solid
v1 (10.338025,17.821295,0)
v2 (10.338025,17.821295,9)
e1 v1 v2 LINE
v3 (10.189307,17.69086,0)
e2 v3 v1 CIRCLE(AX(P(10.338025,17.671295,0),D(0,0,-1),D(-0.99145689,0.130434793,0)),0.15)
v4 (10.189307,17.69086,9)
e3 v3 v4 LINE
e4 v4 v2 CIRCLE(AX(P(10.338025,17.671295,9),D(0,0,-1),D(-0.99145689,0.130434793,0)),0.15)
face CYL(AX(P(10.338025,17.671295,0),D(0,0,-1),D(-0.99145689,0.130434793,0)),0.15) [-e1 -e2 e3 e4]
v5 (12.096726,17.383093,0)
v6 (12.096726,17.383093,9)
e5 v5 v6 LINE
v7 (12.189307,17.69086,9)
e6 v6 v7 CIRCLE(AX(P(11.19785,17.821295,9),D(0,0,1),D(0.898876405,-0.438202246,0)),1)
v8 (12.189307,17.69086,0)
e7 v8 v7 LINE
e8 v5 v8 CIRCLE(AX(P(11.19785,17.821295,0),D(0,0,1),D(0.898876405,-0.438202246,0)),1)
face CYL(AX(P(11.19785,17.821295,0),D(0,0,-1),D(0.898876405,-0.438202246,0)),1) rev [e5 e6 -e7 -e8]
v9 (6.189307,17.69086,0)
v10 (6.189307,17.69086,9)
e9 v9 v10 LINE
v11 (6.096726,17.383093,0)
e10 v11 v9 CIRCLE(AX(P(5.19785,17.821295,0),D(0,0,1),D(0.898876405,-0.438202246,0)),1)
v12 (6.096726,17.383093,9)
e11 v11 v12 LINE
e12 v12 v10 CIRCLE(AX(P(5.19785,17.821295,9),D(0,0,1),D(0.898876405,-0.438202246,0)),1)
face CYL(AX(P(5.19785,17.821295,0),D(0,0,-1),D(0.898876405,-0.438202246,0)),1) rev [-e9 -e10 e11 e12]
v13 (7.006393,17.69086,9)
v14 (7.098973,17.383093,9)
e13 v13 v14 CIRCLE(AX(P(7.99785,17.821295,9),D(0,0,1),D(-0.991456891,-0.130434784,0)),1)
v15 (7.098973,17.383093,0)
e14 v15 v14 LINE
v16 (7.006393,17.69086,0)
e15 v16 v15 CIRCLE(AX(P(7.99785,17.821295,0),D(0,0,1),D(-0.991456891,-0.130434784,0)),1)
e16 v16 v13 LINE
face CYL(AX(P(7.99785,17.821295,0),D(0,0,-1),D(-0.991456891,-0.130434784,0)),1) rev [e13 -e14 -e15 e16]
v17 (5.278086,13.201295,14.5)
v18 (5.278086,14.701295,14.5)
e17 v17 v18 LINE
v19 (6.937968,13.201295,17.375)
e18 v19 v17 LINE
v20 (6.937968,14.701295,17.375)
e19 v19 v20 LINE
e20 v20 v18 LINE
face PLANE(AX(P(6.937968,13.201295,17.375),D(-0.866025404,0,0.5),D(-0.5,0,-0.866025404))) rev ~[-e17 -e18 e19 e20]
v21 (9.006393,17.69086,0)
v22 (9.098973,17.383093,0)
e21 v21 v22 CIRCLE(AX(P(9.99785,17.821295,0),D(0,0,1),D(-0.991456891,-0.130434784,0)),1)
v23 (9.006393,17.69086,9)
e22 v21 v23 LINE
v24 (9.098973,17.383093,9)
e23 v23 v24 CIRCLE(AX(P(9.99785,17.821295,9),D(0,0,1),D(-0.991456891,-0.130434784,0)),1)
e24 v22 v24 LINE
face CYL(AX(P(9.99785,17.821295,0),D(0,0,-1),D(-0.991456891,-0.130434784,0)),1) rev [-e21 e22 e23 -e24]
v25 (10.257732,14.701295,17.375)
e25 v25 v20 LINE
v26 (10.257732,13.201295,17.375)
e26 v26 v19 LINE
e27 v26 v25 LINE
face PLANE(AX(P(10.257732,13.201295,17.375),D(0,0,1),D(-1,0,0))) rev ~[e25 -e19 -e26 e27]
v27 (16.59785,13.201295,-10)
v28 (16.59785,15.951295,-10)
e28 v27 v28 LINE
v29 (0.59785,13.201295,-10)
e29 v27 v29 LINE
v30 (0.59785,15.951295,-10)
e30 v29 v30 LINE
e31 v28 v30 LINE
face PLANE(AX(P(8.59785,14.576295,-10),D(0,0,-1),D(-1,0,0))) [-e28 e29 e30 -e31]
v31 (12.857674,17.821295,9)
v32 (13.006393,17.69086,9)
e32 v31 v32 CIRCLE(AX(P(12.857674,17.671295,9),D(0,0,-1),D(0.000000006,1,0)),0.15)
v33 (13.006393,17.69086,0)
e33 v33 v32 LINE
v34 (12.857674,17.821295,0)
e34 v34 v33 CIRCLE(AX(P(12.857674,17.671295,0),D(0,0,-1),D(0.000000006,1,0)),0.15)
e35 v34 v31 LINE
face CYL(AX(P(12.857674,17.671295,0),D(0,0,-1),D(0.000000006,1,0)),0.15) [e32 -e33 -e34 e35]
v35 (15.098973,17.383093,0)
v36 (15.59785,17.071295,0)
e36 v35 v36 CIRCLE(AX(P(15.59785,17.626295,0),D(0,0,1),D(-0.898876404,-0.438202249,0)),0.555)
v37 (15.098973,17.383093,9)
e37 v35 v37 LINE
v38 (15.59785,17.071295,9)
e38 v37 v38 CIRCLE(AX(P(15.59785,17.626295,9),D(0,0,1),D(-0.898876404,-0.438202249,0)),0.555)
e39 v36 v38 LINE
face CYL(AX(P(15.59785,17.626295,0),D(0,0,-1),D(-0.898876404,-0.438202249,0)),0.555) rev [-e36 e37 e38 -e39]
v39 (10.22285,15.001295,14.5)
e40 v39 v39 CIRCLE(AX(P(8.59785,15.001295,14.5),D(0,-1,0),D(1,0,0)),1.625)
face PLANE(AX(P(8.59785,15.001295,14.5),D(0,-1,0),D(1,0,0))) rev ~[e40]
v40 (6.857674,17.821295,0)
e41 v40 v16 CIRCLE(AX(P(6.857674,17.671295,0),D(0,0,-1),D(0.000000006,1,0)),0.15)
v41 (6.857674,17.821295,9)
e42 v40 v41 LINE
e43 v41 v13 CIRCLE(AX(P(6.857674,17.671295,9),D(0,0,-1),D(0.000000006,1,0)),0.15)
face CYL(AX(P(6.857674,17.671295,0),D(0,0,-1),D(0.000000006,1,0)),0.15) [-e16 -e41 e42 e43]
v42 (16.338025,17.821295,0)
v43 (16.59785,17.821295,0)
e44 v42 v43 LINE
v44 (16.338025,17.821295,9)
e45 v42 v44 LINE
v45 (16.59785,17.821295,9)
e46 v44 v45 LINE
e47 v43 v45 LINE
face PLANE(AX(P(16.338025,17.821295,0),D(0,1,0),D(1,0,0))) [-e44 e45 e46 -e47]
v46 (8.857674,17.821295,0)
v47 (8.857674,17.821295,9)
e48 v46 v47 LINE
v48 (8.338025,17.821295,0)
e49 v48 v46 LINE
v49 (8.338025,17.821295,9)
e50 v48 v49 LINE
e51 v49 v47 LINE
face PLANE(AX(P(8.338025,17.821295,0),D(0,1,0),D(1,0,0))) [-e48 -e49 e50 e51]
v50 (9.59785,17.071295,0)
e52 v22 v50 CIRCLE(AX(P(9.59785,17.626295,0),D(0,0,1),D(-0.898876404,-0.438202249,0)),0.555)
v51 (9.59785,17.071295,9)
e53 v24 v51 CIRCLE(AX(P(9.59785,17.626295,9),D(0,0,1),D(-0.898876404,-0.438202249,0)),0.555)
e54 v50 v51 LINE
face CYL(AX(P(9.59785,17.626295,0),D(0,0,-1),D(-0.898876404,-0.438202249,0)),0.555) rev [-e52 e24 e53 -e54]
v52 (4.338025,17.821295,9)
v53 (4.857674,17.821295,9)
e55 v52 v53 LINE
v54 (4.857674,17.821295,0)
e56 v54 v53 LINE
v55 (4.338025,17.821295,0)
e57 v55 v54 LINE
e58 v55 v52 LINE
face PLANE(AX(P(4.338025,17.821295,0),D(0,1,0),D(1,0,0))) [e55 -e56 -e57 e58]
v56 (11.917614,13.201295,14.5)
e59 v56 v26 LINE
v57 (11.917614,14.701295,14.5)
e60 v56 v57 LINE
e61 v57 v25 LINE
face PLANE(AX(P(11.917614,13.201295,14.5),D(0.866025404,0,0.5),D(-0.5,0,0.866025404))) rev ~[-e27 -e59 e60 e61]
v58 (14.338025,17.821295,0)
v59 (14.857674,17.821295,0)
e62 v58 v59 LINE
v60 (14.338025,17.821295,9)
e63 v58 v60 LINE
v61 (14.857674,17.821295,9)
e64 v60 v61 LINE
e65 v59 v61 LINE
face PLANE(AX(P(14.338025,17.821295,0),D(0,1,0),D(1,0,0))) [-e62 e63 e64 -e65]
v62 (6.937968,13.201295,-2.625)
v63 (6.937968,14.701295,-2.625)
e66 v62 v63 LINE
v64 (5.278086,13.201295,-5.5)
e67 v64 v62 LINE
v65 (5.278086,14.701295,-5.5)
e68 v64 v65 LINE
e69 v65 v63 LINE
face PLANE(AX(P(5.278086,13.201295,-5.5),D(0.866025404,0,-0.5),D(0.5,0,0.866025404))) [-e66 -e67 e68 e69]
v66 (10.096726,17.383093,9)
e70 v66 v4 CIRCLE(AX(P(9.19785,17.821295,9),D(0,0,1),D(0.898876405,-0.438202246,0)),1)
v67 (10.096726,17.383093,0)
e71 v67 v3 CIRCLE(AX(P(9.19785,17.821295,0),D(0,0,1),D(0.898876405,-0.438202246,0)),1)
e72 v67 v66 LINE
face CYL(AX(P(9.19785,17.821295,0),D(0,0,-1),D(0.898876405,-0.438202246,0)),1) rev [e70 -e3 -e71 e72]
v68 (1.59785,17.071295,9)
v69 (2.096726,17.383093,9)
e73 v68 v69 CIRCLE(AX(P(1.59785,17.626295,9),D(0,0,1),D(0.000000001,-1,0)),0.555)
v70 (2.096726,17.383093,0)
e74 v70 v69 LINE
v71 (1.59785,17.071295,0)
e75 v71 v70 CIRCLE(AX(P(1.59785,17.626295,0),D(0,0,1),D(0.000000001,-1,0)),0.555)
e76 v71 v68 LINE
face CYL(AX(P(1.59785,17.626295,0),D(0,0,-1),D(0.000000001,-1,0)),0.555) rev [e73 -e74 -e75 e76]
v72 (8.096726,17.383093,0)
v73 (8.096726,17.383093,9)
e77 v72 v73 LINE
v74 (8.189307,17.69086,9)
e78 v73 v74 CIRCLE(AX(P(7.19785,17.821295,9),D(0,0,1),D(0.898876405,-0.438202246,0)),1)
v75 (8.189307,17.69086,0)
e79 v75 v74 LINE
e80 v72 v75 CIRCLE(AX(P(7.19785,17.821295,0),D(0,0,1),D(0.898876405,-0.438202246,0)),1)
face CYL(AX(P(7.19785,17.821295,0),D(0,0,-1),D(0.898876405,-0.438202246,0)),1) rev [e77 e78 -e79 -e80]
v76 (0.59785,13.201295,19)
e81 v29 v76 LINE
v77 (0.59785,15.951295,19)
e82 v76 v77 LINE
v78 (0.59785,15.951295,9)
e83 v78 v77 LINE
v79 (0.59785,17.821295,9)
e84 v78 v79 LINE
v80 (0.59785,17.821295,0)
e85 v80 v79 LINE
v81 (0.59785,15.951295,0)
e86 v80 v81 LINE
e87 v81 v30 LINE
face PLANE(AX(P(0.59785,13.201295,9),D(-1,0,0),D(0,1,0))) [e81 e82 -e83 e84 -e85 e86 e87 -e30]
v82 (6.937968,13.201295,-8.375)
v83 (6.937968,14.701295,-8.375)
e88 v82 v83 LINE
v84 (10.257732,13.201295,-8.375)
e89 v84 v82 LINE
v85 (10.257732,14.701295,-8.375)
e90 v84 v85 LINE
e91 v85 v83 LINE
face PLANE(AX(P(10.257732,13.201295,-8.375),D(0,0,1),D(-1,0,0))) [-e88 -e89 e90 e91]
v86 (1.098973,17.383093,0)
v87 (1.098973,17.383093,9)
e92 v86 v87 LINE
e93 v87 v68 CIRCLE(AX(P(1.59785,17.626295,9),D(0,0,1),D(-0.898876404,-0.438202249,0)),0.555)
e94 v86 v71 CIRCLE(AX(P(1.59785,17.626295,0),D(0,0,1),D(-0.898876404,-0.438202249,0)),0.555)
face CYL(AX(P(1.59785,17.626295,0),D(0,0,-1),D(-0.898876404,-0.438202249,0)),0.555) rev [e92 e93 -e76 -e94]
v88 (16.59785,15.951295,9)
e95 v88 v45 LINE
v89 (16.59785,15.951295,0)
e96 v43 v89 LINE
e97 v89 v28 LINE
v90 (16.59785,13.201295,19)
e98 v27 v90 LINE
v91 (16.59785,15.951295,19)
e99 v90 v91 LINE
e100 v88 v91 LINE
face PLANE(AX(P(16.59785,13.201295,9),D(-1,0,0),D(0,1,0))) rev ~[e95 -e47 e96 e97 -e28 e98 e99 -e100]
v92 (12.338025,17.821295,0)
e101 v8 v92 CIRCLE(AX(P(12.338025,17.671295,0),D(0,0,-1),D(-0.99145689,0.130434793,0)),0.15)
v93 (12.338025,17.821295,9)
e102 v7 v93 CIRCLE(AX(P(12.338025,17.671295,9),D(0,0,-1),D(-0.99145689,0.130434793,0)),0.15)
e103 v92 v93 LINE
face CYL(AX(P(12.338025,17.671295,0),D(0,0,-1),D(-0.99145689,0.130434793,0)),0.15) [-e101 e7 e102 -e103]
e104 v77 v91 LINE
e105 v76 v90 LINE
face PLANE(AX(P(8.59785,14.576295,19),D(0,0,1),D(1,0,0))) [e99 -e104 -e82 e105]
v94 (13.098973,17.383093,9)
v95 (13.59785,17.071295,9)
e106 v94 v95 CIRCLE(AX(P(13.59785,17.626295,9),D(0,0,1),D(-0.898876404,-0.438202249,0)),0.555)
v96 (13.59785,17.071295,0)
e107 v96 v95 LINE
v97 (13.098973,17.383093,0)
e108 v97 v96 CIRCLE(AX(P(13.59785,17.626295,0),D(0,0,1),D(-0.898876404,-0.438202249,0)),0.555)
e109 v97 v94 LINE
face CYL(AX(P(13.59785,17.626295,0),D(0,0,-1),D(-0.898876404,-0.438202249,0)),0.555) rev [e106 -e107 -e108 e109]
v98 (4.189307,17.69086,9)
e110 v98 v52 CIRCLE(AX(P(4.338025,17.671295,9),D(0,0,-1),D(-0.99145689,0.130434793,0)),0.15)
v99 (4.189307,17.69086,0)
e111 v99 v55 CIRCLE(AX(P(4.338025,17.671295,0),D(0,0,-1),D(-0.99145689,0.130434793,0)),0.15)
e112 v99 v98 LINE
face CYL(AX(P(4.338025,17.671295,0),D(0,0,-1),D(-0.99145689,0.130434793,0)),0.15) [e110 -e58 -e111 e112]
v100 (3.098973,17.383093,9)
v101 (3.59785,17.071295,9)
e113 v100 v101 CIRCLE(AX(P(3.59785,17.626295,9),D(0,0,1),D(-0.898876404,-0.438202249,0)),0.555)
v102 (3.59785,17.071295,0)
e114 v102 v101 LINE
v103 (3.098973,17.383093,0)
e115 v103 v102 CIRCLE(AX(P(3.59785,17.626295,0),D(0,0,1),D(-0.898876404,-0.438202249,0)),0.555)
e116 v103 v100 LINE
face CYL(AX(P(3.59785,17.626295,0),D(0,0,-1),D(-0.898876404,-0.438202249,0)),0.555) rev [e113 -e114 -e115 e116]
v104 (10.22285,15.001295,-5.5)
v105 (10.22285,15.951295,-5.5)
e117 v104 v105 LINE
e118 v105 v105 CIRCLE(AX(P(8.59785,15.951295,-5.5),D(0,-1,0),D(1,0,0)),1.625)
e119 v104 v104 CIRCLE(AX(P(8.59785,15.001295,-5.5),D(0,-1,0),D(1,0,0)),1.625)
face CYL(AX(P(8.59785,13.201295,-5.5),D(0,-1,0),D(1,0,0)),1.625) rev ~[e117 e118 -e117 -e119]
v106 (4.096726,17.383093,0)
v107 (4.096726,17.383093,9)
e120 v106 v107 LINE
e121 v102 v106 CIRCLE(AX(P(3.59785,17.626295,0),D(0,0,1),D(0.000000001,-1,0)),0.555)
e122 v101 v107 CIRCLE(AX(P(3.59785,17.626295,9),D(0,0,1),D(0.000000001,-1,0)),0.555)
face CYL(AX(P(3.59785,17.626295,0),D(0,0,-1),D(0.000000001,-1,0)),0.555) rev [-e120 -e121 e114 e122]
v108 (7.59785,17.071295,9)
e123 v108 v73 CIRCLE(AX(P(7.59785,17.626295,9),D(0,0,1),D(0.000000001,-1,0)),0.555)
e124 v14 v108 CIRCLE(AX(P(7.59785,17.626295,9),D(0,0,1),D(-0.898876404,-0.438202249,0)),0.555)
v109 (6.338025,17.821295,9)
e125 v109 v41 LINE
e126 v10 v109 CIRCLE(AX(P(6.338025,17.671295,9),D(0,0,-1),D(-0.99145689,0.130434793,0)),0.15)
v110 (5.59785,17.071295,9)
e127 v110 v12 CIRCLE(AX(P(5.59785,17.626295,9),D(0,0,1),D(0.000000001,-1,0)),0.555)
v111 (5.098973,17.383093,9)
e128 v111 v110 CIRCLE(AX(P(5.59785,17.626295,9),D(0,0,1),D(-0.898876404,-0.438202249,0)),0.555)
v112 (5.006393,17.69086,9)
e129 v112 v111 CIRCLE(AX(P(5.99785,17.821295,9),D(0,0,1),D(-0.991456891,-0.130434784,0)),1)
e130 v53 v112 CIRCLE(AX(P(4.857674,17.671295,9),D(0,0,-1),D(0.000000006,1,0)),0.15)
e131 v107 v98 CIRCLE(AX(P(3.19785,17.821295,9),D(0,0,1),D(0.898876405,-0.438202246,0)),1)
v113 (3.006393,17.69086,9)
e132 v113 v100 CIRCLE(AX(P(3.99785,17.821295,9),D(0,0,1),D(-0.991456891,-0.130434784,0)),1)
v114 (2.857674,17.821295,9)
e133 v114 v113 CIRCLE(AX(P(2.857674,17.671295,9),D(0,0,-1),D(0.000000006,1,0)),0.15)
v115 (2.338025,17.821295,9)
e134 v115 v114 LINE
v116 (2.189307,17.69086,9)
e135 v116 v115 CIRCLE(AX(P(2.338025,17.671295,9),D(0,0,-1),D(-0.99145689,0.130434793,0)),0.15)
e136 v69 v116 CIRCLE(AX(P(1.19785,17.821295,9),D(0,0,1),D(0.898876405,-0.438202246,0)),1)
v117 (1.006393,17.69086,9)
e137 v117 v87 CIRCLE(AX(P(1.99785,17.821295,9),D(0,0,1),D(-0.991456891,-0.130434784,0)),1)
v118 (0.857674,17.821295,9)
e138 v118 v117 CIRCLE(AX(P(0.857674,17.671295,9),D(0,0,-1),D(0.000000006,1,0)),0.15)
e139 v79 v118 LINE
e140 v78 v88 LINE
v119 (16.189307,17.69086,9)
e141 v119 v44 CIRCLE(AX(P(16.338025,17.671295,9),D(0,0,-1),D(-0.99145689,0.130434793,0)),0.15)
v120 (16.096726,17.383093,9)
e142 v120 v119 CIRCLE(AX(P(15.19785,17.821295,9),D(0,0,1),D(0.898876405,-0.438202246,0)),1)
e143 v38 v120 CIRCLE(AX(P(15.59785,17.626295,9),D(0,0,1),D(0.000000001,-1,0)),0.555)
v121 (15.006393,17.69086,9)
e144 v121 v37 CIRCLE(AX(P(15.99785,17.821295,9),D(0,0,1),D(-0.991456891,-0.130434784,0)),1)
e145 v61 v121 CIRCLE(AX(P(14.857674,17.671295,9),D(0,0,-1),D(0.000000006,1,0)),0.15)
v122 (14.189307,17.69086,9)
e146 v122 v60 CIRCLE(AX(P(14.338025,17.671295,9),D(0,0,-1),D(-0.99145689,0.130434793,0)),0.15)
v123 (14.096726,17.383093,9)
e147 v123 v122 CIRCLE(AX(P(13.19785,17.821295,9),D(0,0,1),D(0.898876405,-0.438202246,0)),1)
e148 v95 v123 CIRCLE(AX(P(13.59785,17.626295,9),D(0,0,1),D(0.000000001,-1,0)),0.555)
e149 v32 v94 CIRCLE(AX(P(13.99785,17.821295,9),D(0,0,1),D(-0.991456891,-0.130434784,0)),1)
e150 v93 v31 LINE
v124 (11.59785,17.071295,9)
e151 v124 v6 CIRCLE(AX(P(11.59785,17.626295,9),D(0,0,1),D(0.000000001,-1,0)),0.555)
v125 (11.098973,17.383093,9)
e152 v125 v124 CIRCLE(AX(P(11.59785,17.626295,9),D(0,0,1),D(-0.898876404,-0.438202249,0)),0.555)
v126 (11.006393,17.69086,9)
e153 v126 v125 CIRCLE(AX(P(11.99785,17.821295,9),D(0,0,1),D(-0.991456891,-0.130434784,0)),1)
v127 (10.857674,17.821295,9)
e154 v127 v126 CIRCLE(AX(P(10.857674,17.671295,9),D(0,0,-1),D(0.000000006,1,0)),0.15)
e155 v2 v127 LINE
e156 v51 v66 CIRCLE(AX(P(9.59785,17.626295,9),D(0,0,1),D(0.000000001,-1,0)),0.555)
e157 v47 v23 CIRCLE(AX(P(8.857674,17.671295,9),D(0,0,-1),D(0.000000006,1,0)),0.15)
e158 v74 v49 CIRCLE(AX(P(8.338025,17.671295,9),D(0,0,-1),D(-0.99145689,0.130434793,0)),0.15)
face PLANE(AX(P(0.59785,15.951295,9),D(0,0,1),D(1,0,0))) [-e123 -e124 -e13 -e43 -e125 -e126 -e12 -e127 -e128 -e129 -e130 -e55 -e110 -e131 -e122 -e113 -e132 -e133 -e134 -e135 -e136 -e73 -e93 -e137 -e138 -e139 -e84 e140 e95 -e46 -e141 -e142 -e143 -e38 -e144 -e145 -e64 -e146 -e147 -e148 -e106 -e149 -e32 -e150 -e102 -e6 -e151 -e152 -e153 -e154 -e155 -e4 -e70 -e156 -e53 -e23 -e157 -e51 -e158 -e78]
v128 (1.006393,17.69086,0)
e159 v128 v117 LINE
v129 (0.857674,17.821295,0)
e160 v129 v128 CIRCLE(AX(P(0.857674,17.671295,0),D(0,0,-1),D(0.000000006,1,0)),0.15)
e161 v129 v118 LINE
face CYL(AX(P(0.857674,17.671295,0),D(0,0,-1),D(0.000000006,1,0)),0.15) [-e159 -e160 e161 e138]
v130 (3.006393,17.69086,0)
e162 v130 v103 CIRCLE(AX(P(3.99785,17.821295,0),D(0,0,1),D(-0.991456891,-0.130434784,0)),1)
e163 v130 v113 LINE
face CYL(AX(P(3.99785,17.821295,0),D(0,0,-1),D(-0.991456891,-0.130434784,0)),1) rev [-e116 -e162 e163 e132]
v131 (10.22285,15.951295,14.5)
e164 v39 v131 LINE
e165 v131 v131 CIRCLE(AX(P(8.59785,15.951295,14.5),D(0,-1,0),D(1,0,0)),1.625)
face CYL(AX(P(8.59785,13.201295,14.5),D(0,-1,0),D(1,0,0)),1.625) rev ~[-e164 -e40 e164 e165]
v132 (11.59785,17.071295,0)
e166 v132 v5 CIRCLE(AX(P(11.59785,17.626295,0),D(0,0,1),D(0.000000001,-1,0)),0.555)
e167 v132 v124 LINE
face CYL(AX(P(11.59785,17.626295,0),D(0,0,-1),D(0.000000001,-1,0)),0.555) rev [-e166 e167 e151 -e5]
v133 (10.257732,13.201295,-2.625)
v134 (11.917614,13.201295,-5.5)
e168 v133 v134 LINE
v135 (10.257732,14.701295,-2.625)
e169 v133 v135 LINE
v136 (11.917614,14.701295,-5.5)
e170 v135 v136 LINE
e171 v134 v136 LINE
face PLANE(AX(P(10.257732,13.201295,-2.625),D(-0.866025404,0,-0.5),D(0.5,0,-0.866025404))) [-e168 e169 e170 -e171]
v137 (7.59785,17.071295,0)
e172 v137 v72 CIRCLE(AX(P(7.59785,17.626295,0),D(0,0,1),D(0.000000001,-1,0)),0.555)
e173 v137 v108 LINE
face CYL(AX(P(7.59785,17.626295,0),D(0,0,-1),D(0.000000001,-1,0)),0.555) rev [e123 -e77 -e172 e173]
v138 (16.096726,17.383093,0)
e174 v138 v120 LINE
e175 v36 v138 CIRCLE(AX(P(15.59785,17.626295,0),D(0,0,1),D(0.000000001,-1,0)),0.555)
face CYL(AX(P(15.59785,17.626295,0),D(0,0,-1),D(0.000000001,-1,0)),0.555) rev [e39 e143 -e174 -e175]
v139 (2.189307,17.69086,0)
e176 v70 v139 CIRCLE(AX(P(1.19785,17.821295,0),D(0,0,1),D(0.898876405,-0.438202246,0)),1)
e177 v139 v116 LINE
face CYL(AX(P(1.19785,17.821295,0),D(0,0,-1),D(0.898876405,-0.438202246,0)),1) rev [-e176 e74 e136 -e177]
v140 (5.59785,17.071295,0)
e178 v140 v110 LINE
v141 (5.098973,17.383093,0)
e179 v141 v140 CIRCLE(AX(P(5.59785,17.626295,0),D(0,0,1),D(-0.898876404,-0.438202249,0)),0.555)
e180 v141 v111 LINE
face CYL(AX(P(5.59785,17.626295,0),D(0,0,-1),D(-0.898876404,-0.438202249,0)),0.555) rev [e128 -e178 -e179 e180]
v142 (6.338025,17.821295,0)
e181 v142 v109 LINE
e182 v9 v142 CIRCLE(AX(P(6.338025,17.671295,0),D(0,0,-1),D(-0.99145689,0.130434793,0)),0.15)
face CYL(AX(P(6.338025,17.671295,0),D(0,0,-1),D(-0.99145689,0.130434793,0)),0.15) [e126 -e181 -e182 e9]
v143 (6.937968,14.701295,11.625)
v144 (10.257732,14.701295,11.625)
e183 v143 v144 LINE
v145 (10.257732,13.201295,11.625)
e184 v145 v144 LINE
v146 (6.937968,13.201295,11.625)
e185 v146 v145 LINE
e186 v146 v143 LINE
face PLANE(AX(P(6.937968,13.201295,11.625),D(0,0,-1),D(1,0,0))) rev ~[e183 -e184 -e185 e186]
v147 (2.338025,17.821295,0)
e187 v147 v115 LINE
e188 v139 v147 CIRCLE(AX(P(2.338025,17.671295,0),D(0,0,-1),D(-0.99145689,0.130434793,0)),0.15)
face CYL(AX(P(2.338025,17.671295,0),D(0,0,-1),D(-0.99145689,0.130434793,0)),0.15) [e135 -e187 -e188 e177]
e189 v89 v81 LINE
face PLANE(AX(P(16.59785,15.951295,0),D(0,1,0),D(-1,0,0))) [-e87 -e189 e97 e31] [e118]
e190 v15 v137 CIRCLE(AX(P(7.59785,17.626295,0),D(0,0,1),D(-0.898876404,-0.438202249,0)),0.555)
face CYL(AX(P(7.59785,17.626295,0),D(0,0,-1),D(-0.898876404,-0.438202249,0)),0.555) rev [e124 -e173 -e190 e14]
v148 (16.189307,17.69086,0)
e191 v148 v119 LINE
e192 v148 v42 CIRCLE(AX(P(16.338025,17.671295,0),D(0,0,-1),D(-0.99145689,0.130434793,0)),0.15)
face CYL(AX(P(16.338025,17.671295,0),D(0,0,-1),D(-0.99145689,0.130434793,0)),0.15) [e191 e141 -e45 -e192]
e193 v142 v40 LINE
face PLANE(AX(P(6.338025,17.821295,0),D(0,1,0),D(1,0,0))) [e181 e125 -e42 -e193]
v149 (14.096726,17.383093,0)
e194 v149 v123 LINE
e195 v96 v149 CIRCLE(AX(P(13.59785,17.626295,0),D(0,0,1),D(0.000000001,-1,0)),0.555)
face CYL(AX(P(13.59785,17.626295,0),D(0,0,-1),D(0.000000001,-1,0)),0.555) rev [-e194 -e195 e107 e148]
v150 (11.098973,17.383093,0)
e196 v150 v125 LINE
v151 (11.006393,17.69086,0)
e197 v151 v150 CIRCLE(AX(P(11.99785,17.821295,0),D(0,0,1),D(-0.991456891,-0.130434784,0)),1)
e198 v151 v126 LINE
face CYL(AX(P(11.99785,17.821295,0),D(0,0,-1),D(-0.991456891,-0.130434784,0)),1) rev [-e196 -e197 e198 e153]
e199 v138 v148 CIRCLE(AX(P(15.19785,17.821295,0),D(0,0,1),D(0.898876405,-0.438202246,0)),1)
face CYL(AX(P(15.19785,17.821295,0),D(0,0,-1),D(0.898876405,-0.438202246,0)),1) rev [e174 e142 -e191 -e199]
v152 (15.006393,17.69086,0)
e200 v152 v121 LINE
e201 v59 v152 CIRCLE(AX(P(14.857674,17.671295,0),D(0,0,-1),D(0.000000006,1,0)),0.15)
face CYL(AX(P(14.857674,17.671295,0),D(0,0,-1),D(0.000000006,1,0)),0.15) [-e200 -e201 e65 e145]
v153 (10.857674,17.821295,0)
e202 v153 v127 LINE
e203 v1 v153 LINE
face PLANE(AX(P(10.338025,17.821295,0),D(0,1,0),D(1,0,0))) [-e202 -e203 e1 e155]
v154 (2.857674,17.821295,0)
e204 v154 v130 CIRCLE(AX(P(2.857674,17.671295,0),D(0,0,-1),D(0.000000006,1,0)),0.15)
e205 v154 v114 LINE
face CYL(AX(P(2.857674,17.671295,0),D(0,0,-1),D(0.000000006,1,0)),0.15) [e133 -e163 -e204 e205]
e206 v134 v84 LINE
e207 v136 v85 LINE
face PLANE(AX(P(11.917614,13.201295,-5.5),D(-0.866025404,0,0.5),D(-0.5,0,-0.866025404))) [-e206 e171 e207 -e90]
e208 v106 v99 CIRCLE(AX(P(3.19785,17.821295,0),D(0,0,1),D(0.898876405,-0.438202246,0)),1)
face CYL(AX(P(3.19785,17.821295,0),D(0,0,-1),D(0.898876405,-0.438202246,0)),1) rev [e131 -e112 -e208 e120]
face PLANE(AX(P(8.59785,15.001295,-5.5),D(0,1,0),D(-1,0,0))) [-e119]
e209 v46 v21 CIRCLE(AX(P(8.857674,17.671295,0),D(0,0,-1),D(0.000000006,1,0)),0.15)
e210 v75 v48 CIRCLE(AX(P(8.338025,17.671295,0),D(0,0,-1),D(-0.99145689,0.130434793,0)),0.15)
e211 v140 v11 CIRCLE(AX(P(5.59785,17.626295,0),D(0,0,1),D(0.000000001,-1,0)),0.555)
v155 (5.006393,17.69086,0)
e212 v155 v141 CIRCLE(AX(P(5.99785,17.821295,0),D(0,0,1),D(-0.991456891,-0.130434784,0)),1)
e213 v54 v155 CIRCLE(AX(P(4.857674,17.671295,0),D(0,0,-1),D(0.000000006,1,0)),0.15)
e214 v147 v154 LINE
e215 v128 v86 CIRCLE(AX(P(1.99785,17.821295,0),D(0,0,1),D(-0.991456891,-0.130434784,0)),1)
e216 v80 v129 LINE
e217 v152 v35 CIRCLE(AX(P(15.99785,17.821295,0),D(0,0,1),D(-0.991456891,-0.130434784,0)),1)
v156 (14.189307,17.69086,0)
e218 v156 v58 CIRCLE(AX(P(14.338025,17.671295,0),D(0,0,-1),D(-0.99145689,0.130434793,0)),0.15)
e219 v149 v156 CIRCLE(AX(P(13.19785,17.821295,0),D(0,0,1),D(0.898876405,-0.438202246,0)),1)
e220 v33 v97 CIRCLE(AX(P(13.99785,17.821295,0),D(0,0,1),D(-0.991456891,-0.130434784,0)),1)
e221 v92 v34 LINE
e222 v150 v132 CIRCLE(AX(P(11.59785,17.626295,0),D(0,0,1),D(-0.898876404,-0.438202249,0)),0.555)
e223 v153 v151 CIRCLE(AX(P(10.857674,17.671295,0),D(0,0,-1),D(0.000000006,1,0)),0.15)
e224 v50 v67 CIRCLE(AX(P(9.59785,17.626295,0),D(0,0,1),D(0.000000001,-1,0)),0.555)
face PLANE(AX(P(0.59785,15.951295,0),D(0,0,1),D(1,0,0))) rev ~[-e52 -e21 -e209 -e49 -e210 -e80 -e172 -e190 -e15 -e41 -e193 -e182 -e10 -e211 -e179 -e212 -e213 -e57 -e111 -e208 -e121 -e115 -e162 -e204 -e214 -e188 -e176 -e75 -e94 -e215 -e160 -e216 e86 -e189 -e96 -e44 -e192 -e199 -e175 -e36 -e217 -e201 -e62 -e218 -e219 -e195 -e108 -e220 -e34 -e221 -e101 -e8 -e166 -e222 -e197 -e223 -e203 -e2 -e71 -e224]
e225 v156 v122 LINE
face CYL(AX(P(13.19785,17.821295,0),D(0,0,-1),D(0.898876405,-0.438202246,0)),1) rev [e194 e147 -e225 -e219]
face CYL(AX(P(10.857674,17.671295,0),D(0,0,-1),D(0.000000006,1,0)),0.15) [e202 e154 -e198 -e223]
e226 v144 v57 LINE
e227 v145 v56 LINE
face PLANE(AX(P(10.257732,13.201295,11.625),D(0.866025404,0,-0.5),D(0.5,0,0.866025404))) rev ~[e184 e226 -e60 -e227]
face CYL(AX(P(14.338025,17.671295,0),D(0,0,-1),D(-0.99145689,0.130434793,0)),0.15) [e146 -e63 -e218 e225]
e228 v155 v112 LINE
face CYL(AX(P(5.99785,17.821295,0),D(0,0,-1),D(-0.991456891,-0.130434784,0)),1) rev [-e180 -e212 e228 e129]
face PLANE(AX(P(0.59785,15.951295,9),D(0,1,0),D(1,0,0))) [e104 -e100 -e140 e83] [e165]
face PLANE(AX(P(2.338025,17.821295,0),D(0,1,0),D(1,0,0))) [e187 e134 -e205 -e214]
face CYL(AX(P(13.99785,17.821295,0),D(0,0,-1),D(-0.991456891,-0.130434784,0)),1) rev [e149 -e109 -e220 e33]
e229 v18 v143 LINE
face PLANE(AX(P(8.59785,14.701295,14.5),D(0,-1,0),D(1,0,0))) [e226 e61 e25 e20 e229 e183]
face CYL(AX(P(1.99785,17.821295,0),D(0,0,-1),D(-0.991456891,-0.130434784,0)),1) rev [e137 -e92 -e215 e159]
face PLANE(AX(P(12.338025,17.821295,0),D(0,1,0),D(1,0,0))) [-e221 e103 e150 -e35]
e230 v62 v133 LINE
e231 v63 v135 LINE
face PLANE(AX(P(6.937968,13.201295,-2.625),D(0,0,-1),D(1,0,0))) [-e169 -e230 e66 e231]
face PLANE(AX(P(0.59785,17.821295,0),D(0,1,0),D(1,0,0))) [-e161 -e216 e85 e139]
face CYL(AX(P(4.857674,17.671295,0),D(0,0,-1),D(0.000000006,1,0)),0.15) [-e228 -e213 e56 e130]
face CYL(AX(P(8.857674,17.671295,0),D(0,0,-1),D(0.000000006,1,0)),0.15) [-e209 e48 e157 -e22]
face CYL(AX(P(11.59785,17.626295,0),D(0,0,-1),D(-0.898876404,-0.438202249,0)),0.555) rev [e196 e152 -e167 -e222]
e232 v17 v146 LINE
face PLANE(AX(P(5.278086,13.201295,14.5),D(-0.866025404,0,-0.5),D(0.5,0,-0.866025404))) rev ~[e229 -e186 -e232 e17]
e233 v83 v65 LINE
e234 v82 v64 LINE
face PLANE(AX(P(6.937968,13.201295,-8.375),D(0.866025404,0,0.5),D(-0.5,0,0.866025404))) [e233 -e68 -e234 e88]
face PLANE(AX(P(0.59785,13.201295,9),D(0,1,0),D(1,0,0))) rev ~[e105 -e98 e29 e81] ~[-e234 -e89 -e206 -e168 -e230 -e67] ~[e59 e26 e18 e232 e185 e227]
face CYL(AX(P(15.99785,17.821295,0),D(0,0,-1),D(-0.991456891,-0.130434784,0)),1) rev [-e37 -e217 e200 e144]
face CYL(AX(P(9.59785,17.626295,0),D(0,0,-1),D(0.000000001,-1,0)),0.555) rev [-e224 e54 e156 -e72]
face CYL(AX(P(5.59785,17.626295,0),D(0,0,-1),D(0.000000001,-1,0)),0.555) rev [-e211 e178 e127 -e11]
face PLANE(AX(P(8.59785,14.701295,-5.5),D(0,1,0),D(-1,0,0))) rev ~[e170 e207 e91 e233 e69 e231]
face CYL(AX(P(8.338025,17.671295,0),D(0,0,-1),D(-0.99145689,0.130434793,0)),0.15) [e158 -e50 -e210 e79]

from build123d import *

# Parameters (mm, degrees)
BOSS_EXTRUDE1_DEPTH  = 9
SKETCH6_W            = 16
SKETCH6_H            = 9
BOSS_EXTRUDE6_DEPTH  = 2.75
SKETCH7_W            = 16
SKETCH7_H            = 2.75
BOSS_EXTRUDE7_DEPTH  = 10
SKETCH8_W            = 16
SKETCH8_H            = 2.75
BOSS_EXTRUDE8_DEPTH  = 10
SKETCH10_R           = 1.625
CUT_EXTRUDE1_DEPTH   = 10
CUT_EXTRUDE2_DEPTH   = 1.5
BOSS_EXTRUDE11_DEPTH = 0.3


with BuildPart() as part:
    # Sketch1 → Boss-Extrude1 (new body)
    with BuildSketch(Plane.XY):
        with BuildLine():
            Line((16.338025278, 17.821295042), (16.597849853, 17.821295042))
            Line((16.597849853, 17.821295042), (16.597849853, 15.951295042))
            Line((16.597849853, 15.951295042), (0.597849853, 15.951295042))
            Line((0.597849853, 15.951295042), (0.597849853, 17.821295042))
            Line((0.597849853, 17.821295042), (0.857674428, 17.821295042))
            ThreePointArc((0.857674428, 17.821295042), (0.956581499, 17.784066453), (1.006392961, 17.690860259))
            ThreePointArc((1.006392961, 17.690860259), (1.040238138, 17.533232888), (1.098973448, 17.383092794))
            ThreePointArc((1.098973448, 17.383092794), (1.303700441, 17.155655983), (1.597849853, 17.071295042))
            ThreePointArc((1.597849853, 17.071295042), (1.891999264, 17.155655983), (2.096726257, 17.383092794))
            ThreePointArc((2.096726257, 17.383092794), (2.155461567, 17.533232888), (2.189306744, 17.690860259))
            ThreePointArc((2.189306744, 17.690860259), (2.239118207, 17.784066453), (2.338025278, 17.821295042))
            Line((2.338025278, 17.821295042), (2.857674428, 17.821295042))
            ThreePointArc((2.857674428, 17.821295042), (2.956581499, 17.784066453), (3.006392961, 17.690860259))
            ThreePointArc((3.006392961, 17.690860259), (3.040238138, 17.533232888), (3.098973448, 17.383092794))
            ThreePointArc((3.098973448, 17.383092794), (3.303700441, 17.155655983), (3.597849853, 17.071295042))
            ThreePointArc((3.597849853, 17.071295042), (3.891999264, 17.155655983), (4.096726257, 17.383092794))
            ThreePointArc((4.096726257, 17.383092794), (4.155461567, 17.533232888), (4.189306744, 17.690860259))
            ThreePointArc((4.189306744, 17.690860259), (4.239118207, 17.784066453), (4.338025278, 17.821295042))
            Line((4.338025278, 17.821295042), (4.857674428, 17.821295042))
            ThreePointArc((4.857674428, 17.821295042), (4.956581499, 17.784066453), (5.006392961, 17.690860259))
            ThreePointArc((5.006392961, 17.690860259), (5.040238138, 17.533232888), (5.098973448, 17.383092794))
            ThreePointArc((5.098973448, 17.383092794), (5.303700441, 17.155655983), (5.597849853, 17.071295042))
            ThreePointArc((5.597849853, 17.071295042), (5.891999264, 17.155655983), (6.096726257, 17.383092794))
            ThreePointArc((6.096726257, 17.383092794), (6.155461567, 17.533232888), (6.189306744, 17.690860259))
            ThreePointArc((6.189306744, 17.690860259), (6.239118207, 17.784066453), (6.338025278, 17.821295042))
            Line((6.338025278, 17.821295042), (6.857674428, 17.821295042))
            ThreePointArc((6.857674428, 17.821295042), (6.956581499, 17.784066453), (7.006392961, 17.690860259))
            ThreePointArc((7.006392961, 17.690860259), (7.040238138, 17.533232888), (7.098973448, 17.383092794))
            ThreePointArc((7.098973448, 17.383092794), (7.303700441, 17.155655983), (7.597849853, 17.071295042))
            ThreePointArc((7.597849853, 17.071295042), (7.891999264, 17.155655983), (8.096726257, 17.383092794))
            ThreePointArc((8.096726257, 17.383092794), (8.155461567, 17.533232888), (8.189306744, 17.690860259))
            ThreePointArc((8.189306744, 17.690860259), (8.239118207, 17.784066453), (8.338025278, 17.821295042))
            Line((8.338025278, 17.821295042), (8.857674428, 17.821295042))
            ThreePointArc((8.857674428, 17.821295042), (8.956581499, 17.784066453), (9.006392961, 17.690860259))
            ThreePointArc((9.006392961, 17.690860259), (9.040238138, 17.533232888), (9.098973448, 17.383092794))
            ThreePointArc((9.098973448, 17.383092794), (9.303700441, 17.155655983), (9.597849853, 17.071295042))
            ThreePointArc((9.597849853, 17.071295042), (9.891999264, 17.155655983), (10.096726257, 17.383092794))
            ThreePointArc((10.096726257, 17.383092794), (10.155461567, 17.533232888), (10.189306744, 17.690860259))
            ThreePointArc((10.189306744, 17.690860259), (10.239118207, 17.784066453), (10.338025278, 17.821295042))
            Line((10.338025278, 17.821295042), (10.857674428, 17.821295042))
            ThreePointArc((10.857674428, 17.821295042), (10.956581499, 17.784066453), (11.006392961, 17.690860259))
            ThreePointArc((11.006392961, 17.690860259), (11.040238138, 17.533232888), (11.098973448, 17.383092794))
            ThreePointArc((11.098973448, 17.383092794), (11.303700441, 17.155655983), (11.597849853, 17.071295042))
            ThreePointArc((11.597849853, 17.071295042), (11.891999264, 17.155655983), (12.096726257, 17.383092794))
            ThreePointArc((12.096726257, 17.383092794), (12.155461567, 17.533232888), (12.189306744, 17.690860259))
            ThreePointArc((12.189306744, 17.690860259), (12.239118207, 17.784066453), (12.338025278, 17.821295042))
            Line((12.338025278, 17.821295042), (12.857674428, 17.821295042))
            ThreePointArc((12.857674428, 17.821295042), (12.956581499, 17.784066453), (13.006392961, 17.690860259))
            ThreePointArc((13.006392961, 17.690860259), (13.040238138, 17.533232888), (13.098973448, 17.383092794))
            ThreePointArc((13.098973448, 17.383092794), (13.303700441, 17.155655983), (13.597849853, 17.071295042))
            ThreePointArc((13.597849853, 17.071295042), (13.891999264, 17.155655983), (14.096726257, 17.383092794))
            ThreePointArc((14.096726257, 17.383092794), (14.155461567, 17.533232888), (14.189306744, 17.690860259))
            ThreePointArc((14.189306744, 17.690860259), (14.239118207, 17.784066453), (14.338025278, 17.821295042))
            Line((14.338025278, 17.821295042), (14.857674428, 17.821295042))
            ThreePointArc((14.857674428, 17.821295042), (14.956581499, 17.784066453), (15.006392961, 17.690860259))
            ThreePointArc((15.006392961, 17.690860259), (15.040238138, 17.533232888), (15.098973448, 17.383092794))
            ThreePointArc((15.098973448, 17.383092794), (15.303700441, 17.155655983), (15.597849853, 17.071295042))
            ThreePointArc((15.597849853, 17.071295042), (15.891999264, 17.155655983), (16.096726257, 17.383092794))
            ThreePointArc((16.096726257, 17.383092794), (16.155461567, 17.533232888), (16.189306744, 17.690860259))
            ThreePointArc((16.189306744, 17.690860259), (16.239118207, 17.784066453), (16.338025278, 17.821295042))
        make_face()
    extrude(amount=BOSS_EXTRUDE1_DEPTH)

    # Sketch6 → Boss-Extrude6 (add)
    with BuildSketch(Plane.XZ.offset(-15.951295042)):
        with Locations((8.597849853, 4.5)):
            Rectangle(SKETCH6_W, SKETCH6_H)
    extrude(amount=BOSS_EXTRUDE6_DEPTH)

    # Sketch7 → Boss-Extrude7 (add)
    with BuildSketch(Plane(origin=(0, 0, 0), x_dir=(-1, 0, 0), z_dir=(0, 0, -1))):
        with Locations((-8.597849853, 14.576295042)):
            Rectangle(SKETCH7_W, SKETCH7_H)
    extrude(amount=BOSS_EXTRUDE7_DEPTH)

    # Sketch8 → Boss-Extrude8 (add)
    with BuildSketch(Plane.XY.offset(9)):
        with Locations((8.597849853, 14.576295042)):
            Rectangle(SKETCH8_W, SKETCH8_H)
    extrude(amount=BOSS_EXTRUDE8_DEPTH)

    # Sketch10 → Cut-Extrude1 (cut)
    with BuildSketch(Plane.XZ.offset(-13.201295042)):
        with Locations((8.597849853, 14.5)):
            Circle(SKETCH10_R)
        with Locations((8.597849853, -5.5)):
            Circle(SKETCH10_R)
    extrude(amount=-CUT_EXTRUDE1_DEPTH, mode=Mode.SUBTRACT)

    # Sketch11 → Cut-Extrude2 (cut)
    with BuildSketch(Plane.XZ.offset(-13.201295042)):
        Polygon((6.937967829, 11.625), (10.257731877, 11.625), (11.9176139, 14.5), (10.257731877, 17.375), (6.937967829, 17.375), (5.278085805, 14.5), align=None)
        Polygon((5.278085805, -5.5), (6.937967829, -2.625), (10.257731877, -2.625), (11.9176139, -5.5), (10.257731877, -8.375), (6.937967829, -8.375), align=None)
    extrude(amount=-CUT_EXTRUDE2_DEPTH, mode=Mode.SUBTRACT)

    # Sketch15 → Boss-Extrude11 (add)
    with BuildSketch(Plane.XZ.offset(-14.701295042)):
        Polygon((5.278085805, 14.5), (6.937967829, 11.625), (10.257731877, 11.625), (11.9176139, 14.5), (10.257731877, 17.375), (6.937967829, 17.375), align=None)
        Polygon((6.937967829, -8.375), (5.278085805, -5.5), (6.937967829, -2.625), (10.257731877, -2.625), (11.9176139, -5.5), (10.257731877, -8.375), align=None)
    extrude(amount=-BOSS_EXTRUDE11_DEPTH)


solid = part.part
